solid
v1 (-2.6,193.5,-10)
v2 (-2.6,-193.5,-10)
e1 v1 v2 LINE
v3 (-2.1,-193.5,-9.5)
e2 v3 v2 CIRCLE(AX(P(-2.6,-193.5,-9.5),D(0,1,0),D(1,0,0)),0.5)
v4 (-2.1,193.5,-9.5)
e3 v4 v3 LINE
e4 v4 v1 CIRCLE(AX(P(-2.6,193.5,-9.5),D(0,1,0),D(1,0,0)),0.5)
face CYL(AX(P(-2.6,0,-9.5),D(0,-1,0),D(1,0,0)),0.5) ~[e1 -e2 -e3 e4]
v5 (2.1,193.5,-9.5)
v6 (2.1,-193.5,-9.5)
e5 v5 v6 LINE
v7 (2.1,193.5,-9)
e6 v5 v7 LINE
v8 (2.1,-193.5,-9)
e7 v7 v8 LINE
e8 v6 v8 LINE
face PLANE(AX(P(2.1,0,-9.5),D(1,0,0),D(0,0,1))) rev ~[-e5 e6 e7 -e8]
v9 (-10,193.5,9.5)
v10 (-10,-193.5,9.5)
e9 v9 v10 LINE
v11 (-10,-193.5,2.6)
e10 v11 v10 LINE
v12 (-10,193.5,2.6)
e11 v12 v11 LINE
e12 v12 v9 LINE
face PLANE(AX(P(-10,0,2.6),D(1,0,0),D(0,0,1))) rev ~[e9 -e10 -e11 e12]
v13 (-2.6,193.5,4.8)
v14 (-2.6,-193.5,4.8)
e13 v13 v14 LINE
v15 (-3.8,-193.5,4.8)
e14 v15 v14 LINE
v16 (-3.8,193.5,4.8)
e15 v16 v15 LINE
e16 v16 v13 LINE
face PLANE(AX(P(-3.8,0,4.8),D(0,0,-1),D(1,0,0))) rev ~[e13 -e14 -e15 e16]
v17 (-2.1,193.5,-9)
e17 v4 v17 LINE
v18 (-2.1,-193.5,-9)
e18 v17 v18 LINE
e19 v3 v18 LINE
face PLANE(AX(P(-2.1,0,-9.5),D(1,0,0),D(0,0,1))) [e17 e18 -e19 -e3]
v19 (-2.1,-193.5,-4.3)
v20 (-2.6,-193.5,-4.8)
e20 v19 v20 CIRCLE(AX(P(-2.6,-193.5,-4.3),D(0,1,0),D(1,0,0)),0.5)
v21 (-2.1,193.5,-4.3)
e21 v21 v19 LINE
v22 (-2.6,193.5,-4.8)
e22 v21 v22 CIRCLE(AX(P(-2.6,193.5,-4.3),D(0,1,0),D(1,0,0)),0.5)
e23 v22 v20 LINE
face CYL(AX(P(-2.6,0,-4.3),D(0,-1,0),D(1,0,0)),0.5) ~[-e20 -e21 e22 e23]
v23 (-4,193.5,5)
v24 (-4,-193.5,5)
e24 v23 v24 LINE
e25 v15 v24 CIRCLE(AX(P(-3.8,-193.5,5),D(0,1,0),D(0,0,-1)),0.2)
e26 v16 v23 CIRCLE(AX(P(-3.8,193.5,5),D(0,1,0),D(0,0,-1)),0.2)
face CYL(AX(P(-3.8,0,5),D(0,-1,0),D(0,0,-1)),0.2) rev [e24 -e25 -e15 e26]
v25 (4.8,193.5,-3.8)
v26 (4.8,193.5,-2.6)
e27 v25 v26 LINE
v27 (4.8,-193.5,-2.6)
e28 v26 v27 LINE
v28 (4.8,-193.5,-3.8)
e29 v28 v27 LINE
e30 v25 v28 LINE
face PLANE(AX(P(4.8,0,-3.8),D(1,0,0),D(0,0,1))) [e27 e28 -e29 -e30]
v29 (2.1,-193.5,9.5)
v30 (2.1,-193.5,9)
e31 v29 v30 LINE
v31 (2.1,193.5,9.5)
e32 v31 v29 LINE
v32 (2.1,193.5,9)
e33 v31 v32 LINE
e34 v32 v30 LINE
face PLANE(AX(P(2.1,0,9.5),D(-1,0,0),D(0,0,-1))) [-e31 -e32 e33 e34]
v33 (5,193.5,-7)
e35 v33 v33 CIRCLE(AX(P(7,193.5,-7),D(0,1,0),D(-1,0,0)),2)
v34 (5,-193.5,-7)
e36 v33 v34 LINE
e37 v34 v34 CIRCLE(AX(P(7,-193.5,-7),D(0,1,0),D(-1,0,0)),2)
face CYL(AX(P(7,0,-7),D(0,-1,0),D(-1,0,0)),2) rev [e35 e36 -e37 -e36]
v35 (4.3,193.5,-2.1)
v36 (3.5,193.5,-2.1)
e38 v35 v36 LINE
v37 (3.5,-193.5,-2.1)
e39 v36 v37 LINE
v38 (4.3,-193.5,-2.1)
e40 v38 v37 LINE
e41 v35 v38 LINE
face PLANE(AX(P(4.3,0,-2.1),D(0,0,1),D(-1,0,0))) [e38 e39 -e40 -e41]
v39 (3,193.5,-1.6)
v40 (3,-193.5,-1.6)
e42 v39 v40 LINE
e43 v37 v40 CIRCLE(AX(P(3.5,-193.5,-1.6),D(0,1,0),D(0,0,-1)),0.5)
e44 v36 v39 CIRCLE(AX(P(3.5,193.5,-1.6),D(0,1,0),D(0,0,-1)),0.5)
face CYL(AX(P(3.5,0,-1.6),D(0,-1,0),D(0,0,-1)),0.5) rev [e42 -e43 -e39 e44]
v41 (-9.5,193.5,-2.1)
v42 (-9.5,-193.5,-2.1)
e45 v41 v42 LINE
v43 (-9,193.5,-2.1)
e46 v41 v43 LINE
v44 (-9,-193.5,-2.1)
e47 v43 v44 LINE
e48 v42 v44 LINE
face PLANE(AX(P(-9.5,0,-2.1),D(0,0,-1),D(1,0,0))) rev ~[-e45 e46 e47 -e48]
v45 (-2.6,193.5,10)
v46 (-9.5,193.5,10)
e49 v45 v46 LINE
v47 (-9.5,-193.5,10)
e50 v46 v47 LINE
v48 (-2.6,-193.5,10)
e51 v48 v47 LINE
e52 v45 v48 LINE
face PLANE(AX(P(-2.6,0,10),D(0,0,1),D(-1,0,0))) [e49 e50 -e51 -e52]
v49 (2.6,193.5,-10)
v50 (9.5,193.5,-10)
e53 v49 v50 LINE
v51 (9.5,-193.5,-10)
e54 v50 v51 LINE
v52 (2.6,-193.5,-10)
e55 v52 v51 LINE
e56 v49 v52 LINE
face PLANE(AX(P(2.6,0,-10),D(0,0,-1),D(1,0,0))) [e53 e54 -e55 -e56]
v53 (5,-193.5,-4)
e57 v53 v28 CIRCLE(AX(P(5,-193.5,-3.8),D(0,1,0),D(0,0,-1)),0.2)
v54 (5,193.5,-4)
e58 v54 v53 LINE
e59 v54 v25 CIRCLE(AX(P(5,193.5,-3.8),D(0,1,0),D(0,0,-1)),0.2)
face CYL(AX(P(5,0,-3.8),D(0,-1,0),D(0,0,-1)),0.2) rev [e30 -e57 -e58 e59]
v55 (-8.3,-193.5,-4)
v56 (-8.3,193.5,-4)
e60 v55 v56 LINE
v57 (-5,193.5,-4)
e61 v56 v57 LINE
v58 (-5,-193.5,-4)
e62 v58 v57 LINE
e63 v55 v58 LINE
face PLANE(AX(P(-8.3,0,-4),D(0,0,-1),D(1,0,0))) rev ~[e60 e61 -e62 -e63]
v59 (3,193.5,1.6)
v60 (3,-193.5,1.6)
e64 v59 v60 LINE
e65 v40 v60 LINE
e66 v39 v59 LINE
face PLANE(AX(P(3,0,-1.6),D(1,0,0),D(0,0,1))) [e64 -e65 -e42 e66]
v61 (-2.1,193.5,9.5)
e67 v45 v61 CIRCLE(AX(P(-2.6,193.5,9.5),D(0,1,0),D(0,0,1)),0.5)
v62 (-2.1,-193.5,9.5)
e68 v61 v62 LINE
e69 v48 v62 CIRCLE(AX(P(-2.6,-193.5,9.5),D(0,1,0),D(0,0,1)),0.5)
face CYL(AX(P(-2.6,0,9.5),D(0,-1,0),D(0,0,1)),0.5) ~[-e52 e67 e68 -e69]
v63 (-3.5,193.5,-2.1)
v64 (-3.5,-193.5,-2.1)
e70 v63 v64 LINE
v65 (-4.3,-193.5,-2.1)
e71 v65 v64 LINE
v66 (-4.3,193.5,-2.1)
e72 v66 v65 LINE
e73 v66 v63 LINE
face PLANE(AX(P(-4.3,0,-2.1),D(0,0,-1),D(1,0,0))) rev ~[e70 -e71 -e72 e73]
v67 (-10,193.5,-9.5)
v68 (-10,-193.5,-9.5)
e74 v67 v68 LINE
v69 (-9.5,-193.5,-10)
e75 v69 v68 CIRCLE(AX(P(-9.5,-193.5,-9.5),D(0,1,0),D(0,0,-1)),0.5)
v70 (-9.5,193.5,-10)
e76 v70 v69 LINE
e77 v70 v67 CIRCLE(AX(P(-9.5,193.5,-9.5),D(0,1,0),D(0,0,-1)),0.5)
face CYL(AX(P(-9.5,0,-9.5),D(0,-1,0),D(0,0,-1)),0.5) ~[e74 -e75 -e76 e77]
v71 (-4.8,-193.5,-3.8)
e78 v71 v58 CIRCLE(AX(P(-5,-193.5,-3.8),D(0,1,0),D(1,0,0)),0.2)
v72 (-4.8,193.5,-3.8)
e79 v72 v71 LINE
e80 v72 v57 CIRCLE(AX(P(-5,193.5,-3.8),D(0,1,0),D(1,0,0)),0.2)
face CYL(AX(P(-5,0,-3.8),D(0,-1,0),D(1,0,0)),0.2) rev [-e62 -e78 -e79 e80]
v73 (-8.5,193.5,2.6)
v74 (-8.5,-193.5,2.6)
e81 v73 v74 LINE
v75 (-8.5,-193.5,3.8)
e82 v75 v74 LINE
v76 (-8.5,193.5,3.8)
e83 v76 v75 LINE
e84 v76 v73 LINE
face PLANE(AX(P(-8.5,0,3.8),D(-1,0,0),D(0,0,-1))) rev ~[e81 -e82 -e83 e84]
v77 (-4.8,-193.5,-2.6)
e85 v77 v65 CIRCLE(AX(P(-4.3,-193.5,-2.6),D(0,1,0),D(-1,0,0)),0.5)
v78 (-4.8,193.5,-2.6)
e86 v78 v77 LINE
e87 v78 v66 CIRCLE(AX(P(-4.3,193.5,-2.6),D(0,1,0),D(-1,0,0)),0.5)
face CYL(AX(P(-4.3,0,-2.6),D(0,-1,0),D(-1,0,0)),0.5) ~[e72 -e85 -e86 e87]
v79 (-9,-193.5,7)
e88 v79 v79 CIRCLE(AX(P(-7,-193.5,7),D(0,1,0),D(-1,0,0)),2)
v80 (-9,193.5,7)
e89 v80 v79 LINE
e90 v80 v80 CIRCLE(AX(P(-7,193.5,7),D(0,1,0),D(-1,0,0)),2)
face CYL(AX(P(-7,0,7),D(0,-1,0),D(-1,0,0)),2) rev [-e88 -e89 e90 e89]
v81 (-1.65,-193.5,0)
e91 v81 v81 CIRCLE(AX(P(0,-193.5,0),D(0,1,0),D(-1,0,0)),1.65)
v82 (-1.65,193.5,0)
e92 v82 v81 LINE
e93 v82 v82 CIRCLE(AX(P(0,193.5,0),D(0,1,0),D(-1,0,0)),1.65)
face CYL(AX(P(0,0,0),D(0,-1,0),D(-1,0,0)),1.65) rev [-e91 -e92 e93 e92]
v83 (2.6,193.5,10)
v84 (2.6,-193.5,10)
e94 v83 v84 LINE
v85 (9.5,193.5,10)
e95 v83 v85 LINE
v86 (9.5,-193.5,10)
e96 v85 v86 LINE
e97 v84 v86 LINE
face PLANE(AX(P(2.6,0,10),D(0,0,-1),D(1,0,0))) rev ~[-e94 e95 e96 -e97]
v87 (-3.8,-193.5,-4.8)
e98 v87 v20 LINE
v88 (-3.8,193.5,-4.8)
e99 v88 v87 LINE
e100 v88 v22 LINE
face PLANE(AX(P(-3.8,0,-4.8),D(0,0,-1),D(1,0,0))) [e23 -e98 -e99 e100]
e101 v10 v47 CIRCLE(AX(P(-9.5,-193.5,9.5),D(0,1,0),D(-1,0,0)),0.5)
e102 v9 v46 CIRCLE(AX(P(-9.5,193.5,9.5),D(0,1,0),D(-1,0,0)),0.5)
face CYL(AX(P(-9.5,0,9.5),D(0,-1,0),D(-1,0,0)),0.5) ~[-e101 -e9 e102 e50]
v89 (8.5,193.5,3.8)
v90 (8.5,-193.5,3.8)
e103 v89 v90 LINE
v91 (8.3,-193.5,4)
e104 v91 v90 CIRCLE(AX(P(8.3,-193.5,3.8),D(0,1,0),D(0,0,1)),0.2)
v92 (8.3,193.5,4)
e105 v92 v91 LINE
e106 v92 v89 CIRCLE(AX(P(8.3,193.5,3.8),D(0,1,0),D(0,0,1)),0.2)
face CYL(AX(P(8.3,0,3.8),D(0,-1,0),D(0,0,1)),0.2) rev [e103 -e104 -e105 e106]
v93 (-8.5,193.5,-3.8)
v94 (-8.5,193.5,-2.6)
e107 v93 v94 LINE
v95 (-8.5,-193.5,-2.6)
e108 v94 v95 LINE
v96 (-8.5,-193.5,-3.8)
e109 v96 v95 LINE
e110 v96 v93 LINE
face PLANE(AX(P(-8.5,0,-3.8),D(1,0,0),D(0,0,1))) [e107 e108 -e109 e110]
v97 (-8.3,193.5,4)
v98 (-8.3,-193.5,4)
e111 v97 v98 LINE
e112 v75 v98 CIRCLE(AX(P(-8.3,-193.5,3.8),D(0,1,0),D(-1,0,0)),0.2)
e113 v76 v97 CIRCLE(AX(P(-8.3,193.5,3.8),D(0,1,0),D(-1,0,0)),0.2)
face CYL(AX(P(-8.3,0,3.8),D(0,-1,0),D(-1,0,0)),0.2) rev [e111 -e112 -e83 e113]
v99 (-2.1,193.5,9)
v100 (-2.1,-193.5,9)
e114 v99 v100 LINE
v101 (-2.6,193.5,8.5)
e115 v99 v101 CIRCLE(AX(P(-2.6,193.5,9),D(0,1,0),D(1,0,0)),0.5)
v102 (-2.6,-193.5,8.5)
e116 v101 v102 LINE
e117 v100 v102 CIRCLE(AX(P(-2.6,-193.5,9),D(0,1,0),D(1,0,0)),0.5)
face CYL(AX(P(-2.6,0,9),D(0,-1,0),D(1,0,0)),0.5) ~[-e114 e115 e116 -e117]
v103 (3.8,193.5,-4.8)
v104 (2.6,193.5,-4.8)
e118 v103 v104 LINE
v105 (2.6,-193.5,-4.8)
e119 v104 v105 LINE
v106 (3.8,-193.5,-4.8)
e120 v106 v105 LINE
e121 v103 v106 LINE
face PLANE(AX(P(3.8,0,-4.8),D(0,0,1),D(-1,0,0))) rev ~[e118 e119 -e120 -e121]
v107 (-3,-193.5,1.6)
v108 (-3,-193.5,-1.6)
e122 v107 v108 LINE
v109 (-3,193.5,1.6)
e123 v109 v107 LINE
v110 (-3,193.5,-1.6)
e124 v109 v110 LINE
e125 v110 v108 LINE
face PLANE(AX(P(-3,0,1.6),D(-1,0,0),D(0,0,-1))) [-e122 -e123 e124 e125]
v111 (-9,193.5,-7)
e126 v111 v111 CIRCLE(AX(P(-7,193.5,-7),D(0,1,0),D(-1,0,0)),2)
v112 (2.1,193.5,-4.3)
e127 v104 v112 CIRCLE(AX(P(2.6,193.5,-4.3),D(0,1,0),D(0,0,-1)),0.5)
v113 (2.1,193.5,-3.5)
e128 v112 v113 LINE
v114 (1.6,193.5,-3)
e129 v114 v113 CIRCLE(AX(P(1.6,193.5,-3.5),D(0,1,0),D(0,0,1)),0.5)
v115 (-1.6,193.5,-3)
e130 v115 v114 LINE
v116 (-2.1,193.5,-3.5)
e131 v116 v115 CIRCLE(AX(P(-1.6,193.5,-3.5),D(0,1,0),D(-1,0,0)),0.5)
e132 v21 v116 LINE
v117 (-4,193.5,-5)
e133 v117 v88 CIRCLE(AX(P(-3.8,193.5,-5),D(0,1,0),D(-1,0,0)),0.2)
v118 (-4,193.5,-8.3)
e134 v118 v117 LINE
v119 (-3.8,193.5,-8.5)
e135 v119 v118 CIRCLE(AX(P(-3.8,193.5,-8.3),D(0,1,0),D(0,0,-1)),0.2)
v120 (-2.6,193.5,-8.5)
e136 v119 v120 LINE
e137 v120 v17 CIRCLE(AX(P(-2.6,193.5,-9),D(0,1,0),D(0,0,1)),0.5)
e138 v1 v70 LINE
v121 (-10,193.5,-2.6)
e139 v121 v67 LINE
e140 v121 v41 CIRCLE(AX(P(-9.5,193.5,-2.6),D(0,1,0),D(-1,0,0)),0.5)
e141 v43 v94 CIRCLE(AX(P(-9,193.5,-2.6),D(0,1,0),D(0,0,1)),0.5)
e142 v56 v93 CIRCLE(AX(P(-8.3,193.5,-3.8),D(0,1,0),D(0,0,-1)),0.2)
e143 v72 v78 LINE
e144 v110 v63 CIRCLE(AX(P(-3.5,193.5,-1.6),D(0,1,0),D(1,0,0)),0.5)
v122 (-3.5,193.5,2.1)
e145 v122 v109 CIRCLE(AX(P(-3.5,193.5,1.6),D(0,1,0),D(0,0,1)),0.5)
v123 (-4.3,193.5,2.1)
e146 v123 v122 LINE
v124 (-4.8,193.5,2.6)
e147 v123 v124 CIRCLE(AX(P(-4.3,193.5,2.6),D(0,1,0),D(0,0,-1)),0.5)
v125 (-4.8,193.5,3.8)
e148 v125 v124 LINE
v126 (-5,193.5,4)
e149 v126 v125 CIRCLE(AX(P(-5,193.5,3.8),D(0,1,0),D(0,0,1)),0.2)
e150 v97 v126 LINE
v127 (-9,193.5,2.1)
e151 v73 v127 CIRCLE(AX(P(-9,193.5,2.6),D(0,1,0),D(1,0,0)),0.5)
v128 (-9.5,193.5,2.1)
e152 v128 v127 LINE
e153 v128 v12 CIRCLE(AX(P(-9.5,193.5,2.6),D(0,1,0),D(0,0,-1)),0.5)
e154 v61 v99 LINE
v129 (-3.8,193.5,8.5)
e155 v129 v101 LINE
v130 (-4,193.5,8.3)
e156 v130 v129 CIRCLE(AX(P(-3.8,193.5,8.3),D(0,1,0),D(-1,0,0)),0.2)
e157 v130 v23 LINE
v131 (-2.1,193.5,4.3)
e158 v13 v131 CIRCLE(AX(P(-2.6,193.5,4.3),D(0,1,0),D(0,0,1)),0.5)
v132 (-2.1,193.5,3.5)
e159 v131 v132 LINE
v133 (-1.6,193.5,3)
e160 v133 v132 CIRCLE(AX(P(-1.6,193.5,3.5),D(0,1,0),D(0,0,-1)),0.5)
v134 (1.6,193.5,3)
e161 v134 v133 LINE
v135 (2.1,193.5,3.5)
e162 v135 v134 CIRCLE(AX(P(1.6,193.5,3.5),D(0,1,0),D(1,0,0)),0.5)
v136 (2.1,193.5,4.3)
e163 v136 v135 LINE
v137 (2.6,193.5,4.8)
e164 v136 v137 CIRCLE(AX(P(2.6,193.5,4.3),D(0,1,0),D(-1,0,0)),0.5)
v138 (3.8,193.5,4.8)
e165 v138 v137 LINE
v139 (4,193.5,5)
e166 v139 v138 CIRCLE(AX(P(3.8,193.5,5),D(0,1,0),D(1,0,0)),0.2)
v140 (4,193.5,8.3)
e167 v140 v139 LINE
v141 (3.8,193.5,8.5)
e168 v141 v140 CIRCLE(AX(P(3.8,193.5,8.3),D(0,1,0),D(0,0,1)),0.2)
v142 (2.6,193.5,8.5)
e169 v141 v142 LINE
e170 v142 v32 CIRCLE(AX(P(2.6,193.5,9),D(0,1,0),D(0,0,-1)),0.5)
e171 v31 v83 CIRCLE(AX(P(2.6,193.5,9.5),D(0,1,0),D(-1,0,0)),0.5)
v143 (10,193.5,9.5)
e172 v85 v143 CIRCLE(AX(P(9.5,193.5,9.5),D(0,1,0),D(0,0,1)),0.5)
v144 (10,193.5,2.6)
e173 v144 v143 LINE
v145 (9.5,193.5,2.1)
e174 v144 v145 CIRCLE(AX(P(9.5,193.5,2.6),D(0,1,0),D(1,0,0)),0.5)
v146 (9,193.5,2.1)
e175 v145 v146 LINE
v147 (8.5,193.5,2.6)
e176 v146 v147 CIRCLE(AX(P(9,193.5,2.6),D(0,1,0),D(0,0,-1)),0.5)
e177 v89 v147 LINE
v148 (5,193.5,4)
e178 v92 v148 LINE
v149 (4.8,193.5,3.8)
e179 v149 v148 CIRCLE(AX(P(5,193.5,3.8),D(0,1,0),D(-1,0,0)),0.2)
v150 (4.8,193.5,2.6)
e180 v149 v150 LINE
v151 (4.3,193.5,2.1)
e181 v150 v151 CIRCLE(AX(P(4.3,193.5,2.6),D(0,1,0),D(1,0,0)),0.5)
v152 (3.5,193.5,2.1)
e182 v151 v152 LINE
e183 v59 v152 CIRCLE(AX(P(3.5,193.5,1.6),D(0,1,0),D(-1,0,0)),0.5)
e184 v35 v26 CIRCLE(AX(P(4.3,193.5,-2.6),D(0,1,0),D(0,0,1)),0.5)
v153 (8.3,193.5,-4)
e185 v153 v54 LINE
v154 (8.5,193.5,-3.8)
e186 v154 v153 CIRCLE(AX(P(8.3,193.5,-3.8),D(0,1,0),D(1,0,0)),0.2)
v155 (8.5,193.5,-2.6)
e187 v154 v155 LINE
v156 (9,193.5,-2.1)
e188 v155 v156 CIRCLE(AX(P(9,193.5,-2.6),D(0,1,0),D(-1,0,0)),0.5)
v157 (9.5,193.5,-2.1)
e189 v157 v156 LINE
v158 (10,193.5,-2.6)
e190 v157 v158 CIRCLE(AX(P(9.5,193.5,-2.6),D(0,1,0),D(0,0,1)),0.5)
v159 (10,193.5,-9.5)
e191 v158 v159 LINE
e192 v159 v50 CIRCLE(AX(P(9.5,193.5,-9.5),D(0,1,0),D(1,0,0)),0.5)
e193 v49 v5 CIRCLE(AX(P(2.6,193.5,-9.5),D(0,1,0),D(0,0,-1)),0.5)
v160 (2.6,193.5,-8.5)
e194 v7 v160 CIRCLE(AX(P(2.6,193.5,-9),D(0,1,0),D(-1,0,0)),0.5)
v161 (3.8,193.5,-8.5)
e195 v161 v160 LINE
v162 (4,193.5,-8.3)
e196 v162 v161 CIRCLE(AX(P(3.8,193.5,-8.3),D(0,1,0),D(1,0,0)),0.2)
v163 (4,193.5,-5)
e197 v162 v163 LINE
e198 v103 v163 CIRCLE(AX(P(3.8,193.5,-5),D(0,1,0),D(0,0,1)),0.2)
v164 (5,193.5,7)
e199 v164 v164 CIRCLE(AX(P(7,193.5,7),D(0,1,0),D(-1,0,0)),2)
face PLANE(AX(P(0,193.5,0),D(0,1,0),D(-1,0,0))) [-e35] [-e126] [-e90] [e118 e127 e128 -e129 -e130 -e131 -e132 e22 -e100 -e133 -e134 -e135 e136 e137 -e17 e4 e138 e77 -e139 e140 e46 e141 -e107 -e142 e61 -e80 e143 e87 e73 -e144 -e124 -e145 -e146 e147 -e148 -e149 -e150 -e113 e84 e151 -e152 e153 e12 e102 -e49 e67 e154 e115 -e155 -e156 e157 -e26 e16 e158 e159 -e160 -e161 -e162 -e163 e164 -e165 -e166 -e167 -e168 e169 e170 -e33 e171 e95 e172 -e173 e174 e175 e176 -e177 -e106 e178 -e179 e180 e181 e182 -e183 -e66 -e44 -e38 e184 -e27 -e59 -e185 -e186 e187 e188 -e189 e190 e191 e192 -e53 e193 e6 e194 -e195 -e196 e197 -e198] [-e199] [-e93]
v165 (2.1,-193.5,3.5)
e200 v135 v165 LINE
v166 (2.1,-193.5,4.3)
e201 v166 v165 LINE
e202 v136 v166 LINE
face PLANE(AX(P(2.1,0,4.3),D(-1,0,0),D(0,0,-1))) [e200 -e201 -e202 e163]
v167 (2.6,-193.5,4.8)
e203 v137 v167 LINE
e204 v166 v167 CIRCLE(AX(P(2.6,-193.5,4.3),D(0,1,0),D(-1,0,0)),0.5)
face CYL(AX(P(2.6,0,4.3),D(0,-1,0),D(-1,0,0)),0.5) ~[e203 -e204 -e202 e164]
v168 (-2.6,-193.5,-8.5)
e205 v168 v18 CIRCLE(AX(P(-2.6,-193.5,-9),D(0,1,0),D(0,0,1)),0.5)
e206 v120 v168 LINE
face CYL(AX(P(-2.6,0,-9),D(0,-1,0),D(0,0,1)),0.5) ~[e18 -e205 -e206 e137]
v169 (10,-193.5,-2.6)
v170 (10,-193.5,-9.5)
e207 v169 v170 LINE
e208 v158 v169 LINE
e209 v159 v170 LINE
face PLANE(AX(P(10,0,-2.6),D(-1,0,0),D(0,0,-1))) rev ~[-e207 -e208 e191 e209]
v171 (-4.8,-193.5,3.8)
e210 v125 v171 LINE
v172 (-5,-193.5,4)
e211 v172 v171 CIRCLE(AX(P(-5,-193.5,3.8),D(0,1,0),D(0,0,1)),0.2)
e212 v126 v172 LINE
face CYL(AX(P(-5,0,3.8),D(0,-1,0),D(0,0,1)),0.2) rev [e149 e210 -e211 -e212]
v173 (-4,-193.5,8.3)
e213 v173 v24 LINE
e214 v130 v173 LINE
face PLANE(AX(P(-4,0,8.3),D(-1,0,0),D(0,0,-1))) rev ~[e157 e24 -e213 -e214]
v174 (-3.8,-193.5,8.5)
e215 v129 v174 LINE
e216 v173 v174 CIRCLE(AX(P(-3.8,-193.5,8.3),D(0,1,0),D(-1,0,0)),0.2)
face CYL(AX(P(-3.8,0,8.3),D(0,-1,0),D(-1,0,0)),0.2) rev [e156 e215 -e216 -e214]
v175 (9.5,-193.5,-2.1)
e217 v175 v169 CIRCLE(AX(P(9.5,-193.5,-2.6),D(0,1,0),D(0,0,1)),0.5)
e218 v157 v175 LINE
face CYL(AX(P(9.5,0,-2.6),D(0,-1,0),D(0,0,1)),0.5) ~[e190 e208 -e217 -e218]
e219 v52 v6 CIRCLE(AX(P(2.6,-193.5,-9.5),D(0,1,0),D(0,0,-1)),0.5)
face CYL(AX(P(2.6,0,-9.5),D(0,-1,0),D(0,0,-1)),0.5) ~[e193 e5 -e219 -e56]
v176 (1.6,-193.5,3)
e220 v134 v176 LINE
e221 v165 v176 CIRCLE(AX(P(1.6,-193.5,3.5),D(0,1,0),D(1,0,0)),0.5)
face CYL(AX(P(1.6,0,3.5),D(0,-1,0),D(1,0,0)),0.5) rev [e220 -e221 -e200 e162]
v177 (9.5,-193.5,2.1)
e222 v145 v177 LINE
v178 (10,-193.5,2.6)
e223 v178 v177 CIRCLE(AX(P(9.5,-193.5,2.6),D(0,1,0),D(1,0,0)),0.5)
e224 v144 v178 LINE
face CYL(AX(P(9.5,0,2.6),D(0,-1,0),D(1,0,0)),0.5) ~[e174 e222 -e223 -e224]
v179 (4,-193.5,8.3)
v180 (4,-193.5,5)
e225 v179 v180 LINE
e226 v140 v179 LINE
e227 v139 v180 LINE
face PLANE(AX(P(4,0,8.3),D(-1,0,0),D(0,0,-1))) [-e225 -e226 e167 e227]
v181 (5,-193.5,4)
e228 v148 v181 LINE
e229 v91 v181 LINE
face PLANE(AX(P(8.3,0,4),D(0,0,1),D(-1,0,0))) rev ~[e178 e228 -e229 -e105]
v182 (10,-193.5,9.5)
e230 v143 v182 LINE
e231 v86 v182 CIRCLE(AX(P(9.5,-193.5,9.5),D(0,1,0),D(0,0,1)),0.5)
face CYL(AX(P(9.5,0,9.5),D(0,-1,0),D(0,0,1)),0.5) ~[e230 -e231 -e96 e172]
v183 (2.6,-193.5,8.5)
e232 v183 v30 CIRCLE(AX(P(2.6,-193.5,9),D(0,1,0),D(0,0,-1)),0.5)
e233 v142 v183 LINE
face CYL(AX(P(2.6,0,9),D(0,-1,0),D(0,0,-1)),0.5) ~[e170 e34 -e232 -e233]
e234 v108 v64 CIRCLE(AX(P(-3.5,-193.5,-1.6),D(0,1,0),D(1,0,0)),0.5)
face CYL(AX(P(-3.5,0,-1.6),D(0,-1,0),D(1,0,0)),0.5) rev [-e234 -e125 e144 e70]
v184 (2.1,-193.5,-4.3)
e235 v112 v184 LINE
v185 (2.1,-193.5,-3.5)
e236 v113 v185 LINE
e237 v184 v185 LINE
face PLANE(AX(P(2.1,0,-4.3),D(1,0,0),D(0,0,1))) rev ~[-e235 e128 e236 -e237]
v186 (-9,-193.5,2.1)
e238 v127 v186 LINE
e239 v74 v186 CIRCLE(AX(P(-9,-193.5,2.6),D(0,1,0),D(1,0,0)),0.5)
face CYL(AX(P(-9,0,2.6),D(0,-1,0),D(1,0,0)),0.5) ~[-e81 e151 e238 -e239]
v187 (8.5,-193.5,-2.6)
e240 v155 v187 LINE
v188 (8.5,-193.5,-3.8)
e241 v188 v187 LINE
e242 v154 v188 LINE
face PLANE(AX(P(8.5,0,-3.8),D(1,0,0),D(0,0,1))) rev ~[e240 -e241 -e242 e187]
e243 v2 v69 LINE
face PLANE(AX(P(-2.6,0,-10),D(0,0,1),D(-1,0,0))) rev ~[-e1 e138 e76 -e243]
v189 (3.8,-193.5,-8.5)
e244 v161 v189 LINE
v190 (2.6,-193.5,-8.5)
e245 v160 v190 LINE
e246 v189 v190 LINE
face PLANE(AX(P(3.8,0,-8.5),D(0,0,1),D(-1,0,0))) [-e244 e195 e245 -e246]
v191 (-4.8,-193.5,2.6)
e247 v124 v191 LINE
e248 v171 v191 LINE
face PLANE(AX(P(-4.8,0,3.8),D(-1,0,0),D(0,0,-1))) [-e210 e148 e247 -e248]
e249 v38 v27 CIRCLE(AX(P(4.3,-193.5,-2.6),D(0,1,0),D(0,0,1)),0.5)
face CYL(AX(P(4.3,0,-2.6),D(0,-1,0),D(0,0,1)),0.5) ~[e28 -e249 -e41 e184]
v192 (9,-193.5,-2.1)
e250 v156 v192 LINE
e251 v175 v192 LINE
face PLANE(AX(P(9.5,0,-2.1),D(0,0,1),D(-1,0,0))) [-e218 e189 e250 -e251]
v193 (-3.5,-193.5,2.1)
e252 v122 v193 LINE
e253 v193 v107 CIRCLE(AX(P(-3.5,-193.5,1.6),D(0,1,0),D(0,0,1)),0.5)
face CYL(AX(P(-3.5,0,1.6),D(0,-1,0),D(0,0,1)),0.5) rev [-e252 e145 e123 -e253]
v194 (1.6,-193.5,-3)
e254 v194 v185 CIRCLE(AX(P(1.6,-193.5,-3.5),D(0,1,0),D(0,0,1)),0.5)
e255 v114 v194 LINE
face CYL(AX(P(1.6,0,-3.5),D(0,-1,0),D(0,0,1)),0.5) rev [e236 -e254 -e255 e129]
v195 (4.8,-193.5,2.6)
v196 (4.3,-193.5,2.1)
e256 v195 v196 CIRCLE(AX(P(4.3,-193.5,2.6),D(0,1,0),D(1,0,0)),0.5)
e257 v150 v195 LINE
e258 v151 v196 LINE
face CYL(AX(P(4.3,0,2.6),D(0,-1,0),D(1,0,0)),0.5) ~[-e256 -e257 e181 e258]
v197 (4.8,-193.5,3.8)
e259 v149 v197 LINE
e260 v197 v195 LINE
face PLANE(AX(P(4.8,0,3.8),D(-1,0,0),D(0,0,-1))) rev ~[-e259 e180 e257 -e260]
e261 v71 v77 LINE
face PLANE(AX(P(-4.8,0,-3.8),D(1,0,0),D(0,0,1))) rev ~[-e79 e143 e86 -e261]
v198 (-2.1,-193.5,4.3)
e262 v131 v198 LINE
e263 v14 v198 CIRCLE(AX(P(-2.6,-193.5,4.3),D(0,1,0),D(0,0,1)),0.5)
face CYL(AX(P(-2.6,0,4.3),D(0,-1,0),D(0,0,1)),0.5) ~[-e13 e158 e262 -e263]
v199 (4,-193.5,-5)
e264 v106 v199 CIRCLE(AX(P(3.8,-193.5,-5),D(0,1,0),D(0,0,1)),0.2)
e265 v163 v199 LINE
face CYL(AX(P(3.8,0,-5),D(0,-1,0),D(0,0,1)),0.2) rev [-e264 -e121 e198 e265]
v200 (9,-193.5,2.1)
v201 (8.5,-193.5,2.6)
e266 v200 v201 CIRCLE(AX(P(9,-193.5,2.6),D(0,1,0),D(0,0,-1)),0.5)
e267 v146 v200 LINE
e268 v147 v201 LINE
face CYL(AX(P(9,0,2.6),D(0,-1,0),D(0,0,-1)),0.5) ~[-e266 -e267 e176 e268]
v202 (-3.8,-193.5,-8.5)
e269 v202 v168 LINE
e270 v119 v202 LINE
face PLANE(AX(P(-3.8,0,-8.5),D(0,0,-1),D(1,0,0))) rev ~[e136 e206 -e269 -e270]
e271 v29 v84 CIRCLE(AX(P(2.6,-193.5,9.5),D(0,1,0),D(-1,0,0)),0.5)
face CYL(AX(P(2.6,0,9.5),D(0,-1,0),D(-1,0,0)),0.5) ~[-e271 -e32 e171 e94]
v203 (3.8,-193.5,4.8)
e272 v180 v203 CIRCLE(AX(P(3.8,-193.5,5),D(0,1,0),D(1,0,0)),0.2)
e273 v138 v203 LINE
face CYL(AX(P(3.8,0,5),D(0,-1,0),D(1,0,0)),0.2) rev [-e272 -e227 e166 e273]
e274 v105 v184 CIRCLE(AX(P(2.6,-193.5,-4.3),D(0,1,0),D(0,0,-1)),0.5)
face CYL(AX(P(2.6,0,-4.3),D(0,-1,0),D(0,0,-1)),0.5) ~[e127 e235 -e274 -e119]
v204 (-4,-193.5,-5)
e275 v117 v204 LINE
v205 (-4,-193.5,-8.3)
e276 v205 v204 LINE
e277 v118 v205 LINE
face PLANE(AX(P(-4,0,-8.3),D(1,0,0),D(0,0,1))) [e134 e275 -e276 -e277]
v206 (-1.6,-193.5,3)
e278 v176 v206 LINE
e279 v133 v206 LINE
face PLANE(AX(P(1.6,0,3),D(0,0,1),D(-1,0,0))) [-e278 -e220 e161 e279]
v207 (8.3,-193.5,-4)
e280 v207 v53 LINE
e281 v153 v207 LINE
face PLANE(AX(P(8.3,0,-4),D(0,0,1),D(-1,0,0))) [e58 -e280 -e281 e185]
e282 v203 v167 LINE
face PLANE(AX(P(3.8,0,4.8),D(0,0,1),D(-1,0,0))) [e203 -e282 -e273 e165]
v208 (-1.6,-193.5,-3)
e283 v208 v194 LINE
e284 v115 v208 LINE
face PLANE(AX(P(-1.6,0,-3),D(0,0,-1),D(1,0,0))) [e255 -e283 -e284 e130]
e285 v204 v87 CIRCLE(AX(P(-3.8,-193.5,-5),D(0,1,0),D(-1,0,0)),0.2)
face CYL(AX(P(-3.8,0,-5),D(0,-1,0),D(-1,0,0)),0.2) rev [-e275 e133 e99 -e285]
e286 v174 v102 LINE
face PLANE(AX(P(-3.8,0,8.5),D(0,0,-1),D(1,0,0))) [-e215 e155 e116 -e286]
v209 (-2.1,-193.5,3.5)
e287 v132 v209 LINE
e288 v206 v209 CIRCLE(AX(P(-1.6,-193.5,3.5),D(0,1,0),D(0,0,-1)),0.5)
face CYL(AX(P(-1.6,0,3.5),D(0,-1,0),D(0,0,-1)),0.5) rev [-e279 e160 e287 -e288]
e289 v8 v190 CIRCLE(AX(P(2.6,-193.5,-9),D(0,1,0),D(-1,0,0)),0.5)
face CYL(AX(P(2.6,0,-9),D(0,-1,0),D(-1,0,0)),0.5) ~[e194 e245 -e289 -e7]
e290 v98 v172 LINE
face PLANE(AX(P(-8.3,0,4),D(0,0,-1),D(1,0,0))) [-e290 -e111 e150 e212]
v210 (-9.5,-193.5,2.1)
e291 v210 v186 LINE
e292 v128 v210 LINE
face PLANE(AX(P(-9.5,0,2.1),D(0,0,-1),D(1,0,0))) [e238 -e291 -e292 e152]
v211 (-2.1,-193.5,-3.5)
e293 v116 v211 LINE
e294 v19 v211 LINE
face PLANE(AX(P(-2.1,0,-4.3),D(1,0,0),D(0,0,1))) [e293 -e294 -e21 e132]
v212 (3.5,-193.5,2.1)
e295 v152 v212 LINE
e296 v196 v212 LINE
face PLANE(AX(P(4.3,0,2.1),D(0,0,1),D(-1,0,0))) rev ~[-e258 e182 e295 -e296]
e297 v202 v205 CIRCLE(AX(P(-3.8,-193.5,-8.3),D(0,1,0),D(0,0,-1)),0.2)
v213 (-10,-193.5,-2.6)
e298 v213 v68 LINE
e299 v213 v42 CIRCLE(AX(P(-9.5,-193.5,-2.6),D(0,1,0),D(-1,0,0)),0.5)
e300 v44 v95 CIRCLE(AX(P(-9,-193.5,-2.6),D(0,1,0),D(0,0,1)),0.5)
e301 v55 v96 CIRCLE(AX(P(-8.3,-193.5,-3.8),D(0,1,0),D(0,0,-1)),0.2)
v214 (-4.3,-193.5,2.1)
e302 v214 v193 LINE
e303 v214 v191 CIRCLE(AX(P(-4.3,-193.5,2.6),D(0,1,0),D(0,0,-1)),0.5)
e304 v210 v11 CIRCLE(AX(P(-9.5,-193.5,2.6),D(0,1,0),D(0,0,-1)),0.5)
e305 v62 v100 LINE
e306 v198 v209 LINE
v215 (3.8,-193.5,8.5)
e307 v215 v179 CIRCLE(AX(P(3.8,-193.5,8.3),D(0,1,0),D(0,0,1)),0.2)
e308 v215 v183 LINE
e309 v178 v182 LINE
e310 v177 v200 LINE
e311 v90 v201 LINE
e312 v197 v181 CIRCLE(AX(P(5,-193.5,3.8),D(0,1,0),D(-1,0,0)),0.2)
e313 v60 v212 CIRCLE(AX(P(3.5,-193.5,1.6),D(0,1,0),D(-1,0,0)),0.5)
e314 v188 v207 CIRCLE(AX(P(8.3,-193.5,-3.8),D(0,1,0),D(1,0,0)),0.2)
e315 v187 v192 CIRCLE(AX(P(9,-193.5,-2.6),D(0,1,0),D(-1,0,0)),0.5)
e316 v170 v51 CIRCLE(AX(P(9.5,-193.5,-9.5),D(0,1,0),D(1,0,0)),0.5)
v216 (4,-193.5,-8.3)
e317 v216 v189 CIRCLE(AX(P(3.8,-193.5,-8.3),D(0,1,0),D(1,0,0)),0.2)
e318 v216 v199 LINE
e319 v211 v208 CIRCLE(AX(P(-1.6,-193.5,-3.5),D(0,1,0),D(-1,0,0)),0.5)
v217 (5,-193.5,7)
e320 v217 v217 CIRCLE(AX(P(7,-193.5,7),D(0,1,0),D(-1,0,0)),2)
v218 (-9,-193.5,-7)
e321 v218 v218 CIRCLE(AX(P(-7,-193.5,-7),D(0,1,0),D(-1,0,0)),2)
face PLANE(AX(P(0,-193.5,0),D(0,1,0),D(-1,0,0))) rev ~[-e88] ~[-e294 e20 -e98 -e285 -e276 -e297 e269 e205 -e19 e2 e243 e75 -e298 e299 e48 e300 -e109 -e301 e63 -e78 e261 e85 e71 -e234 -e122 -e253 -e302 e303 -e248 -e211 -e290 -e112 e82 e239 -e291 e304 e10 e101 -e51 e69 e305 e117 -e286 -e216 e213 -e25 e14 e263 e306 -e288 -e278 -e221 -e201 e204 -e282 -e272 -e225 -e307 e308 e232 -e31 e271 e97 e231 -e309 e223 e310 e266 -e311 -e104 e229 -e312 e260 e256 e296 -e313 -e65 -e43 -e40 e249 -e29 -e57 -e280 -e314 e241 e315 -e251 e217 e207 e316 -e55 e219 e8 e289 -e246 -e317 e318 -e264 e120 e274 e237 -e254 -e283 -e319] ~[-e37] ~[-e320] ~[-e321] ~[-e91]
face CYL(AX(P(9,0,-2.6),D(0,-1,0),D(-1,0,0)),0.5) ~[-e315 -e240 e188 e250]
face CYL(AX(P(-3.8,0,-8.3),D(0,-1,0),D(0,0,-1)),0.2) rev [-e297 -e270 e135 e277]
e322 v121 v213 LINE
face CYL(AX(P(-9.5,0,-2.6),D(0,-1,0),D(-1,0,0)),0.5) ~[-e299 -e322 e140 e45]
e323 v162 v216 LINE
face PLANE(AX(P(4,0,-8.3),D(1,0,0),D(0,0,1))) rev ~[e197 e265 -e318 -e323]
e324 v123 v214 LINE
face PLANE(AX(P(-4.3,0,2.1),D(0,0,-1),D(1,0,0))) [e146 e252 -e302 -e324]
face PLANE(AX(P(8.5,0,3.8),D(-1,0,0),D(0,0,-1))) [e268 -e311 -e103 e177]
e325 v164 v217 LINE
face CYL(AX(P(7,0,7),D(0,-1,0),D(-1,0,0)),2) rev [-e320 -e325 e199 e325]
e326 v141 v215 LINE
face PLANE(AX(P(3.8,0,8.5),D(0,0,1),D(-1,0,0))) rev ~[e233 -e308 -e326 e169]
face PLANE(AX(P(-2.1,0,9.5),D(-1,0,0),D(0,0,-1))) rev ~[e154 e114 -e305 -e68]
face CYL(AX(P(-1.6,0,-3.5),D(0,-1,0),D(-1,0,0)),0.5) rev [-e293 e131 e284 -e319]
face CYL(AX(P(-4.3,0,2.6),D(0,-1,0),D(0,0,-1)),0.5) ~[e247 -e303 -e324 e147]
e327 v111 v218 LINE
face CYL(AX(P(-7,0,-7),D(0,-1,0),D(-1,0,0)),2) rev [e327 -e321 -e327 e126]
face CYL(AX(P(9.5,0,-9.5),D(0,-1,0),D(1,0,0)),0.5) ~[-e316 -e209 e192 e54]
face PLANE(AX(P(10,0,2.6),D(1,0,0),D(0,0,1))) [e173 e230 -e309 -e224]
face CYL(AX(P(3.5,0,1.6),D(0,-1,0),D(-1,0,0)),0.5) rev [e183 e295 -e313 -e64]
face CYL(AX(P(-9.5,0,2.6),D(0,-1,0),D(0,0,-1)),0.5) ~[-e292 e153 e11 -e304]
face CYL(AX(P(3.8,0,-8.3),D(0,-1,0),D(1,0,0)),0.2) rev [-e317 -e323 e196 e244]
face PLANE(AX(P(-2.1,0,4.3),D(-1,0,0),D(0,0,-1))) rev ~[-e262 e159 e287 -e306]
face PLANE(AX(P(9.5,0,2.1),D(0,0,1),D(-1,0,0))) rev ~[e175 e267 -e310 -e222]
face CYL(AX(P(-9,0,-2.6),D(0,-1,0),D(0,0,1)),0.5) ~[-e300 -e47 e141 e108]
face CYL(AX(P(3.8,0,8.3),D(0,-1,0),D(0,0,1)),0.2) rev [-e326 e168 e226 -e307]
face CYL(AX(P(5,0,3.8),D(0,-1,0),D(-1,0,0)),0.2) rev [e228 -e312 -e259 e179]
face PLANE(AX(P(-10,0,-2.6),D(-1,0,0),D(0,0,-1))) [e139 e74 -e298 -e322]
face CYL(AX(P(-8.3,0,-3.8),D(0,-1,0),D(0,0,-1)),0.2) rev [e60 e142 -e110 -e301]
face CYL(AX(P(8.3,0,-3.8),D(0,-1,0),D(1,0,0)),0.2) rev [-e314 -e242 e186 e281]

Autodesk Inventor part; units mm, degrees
ref_plane "YZ Plane" through (0, 0, 0) normal (1, 0, 0) x (0, 1, 0)
ref_plane "XZ Plane" through (0, 0, 0) normal (0, 1, 0) x (-1, 0, 0)
ref_plane "XY Plane" through (0, 0, 0) normal (0, 0, 1) x (1, 0, 0)
sketch "スケッチ" plane through (0, 0, 0) normal (0, 1, 0) x (-1, 0, 0)
  line L0 (8.5, -3.8) -> (8.5, -2.6)
  line L1 (4, -8.3) -> (4, -5)
  circle A0 centre (7, -7) radius 2
  line L2 (10, -2.6) -> (10, -9.5)
  line L3 (2.6, -10) -> (9.5, -10)
  line L4 (2.1, -9.5) -> (2.1, -9)
  line L5 (8.5, -2.1) -> (8.5, -4)
  line L6 (3.8, -4.8) -> (2.6, -4.8)
  line L7 (4.8, -3.8) -> (4.8, -2.6)
  arc A1 (2.1, -4.3) -> (2.6, -4.8) centre (2.6, -4.3) ccw
  arc A2 (2.6, -8.5) -> (2.1, -9) centre (2.6, -9) ccw
  arc A3 (3.8, -8.5) -> (4, -8.3) centre (3.8, -8.3) ccw
  arc A4 (4, -5) -> (3.8, -4.8) centre (3.8, -5) ccw
  arc A5 (2.1, -3.5) -> (1.6, -3) centre (1.6, -3.5) ccw
  arc A6 (2.1, -9.5) -> (2.6, -10) centre (2.6, -9.5) ccw
  arc A7 (9.5, -10) -> (10, -9.5) centre (9.5, -9.5) ccw
  arc A8 (10, -2.6) -> (9.5, -2.1) centre (9.5, -2.6) ccw
  arc A9 (9, -2.1) -> (8.5, -2.6) centre (9, -2.6) ccw
  arc A10 (8.3, -4) -> (8.5, -3.8) centre (8.3, -3.8) ccw
  arc A11 (4.8, -3.8) -> (5, -4) centre (5, -3.8) ccw
  line L8 (4.3, -2.1) -> (3.5, -2.1)
  arc A12 (4.8, -2.6) -> (4.3, -2.1) centre (4.3, -2.6) ccw
  arc A13 (3, -1.6) -> (3.5, -2.1) centre (3.5, -1.6) ccw
  line L9 (2.1, -4.3) -> (2.1, -3.5)
  line L10 (3.8, -8.5) -> (2.6, -8.5)
  line L11 (9.5, -2.1) -> (9, -2.1)
  line L12 (8.3, -4) -> (5, -4)
  circle A14 centre (0, 0) radius 1.65
  arc A15 (8.5, 2.6) -> (9, 2.1) centre (9, 2.6) ccw
  line L13 (8.5, 3.8) -> (8.5, 2.6)
  arc A16 (8.5, 3.8) -> (8.3, 4) centre (8.3, 3.8) ccw
  line L14 (8.3, 4) -> (5, 4)
  line L15 (10, 2.6) -> (10, 9.5)
  arc A17 (10, 9.5) -> (9.5, 10) centre (9.5, 9.5) ccw
  circle A18 centre (7, 7) radius 2
  line L16 (4, 8.3) -> (4, 5)
  line L17 (2.6, 10) -> (9.5, 10)
  line L18 (9.5, 2.1) -> (9, 2.1)
  arc A19 (9.5, 2.1) -> (10, 2.6) centre (9.5, 2.6) ccw
  line L19 (3.8, 8.5) -> (2.6, 8.5)
  line L20 (4.8, 3.8) -> (4.8, 2.6)
  arc A20 (4.3, 2.1) -> (4.8, 2.6) centre (4.3, 2.6) ccw
  line L21 (2.1, 8.5) -> (4, 8.5)
  arc A21 (4, 8.3) -> (3.8, 8.5) centre (3.8, 8.3) ccw
  arc A22 (2.1, 9) -> (2.6, 8.5) centre (2.6, 9) ccw
  arc A23 (2.6, 10) -> (2.1, 9.5) centre (2.6, 9.5) ccw
  line L22 (2.1, 9.5) -> (2.1, 9)
  arc A24 (1.6, 3) -> (2.1, 3.5) centre (1.6, 3.5) ccw
  line L23 (3.8, 4.8) -> (2.6, 4.8)
  arc A25 (5, 4) -> (4.8, 3.8) centre (5, 3.8) ccw
  arc A26 (3.8, 4.8) -> (4, 5) centre (3.8, 5) ccw
  line L24 (4.3, 2.1) -> (3.5, 2.1)
  arc A27 (2.6, 4.8) -> (2.1, 4.3) centre (2.6, 4.3) ccw
  line L25 (2.1, 4.3) -> (2.1, 3.5)
  arc A28 (3.5, 2.1) -> (3, 1.6) centre (3.5, 1.6) ccw
  arc A29 (-2.6, 8.5) -> (-2.1, 9) centre (-2.6, 9) ccw
  line L26 (-3.8, 8.5) -> (-2.6, 8.5)
  arc A30 (-3.8, 8.5) -> (-4, 8.3) centre (-3.8, 8.3) ccw
  line L27 (-4, 8.3) -> (-4, 5)
  line L28 (-2.6, 10) -> (-9.5, 10)
  arc A31 (-9.5, 10) -> (-10, 9.5) centre (-9.5, 9.5) ccw
  circle A32 centre (-7, 7) radius 2
  line L29 (-8.3, 4) -> (-5, 4)
  line L30 (-10, 2.6) -> (-10, 9.5)
  line L31 (-2.1, 9.5) -> (-2.1, 9)
  arc A33 (-2.1, 9.5) -> (-2.6, 10) centre (-2.6, 9.5) ccw
  line L32 (-8.5, 3.8) -> (-8.5, 2.6)
  line L33 (-3.8, 4.8) -> (-2.6, 4.8)
  arc A34 (-2.1, 4.3) -> (-2.6, 4.8) centre (-2.6, 4.3) ccw
  line L34 (-8.5, 2.1) -> (-8.5, 4)
  arc A35 (-8.3, 4) -> (-8.5, 3.8) centre (-8.3, 3.8) ccw
  arc A36 (-9, 2.1) -> (-8.5, 2.6) centre (-9, 2.6) ccw
  arc A37 (-10, 2.6) -> (-9.5, 2.1) centre (-9.5, 2.6) ccw
  line L35 (-9.5, 2.1) -> (-9, 2.1)
  arc A38 (-3, 1.6) -> (-3.5, 2.1) centre (-3.5, 1.6) ccw
  line L36 (-4.8, 3.8) -> (-4.8, 2.6)
  arc A39 (-4, 5) -> (-3.8, 4.8) centre (-3.8, 5) ccw
  arc A40 (-4.8, 3.8) -> (-5, 4) centre (-5, 3.8) ccw
  line L37 (-2.1, 4.3) -> (-2.1, 3.5)
  arc A41 (-4.8, 2.6) -> (-4.3, 2.1) centre (-4.3, 2.6) ccw
  line L38 (-4.3, 2.1) -> (-3.5, 2.1)
  arc A42 (-2.1, 3.5) -> (-1.6, 3) centre (-1.6, 3.5) ccw
  arc A43 (-8.5, -2.6) -> (-9, -2.1) centre (-9, -2.6) ccw
  line L39 (-8.5, -3.8) -> (-8.5, -2.6)
  arc A44 (-8.5, -3.8) -> (-8.3, -4) centre (-8.3, -3.8) ccw
  line L40 (-8.3, -4) -> (-5, -4)
  line L41 (-10, -2.6) -> (-10, -9.5)
  arc A45 (-10, -9.5) -> (-9.5, -10) centre (-9.5, -9.5) ccw
  circle A46 centre (-7, -7) radius 2
  line L42 (-4, -8.3) -> (-4, -5)
  line L43 (-2.6, -10) -> (-9.5, -10)
  line L44 (-9.5, -2.1) -> (-9, -2.1)
  arc A47 (-9.5, -2.1) -> (-10, -2.6) centre (-9.5, -2.6) ccw
  line L45 (-3.8, -8.5) -> (-2.6, -8.5)
  line L46 (-4.8, -3.8) -> (-4.8, -2.6)
  arc A48 (-4.3, -2.1) -> (-4.8, -2.6) centre (-4.3, -2.6) ccw
  line L47 (-2.1, -8.5) -> (-4, -8.5)
  arc A49 (-4, -8.3) -> (-3.8, -8.5) centre (-3.8, -8.3) ccw
  arc A50 (-2.1, -9) -> (-2.6, -8.5) centre (-2.6, -9) ccw
  arc A51 (-2.6, -10) -> (-2.1, -9.5) centre (-2.6, -9.5) ccw
  line L48 (-2.1, -9.5) -> (-2.1, -9)
  arc A52 (-1.6, -3) -> (-2.1, -3.5) centre (-1.6, -3.5) ccw
  line L49 (-3.8, -4.8) -> (-2.6, -4.8)
  arc A53 (-5, -4) -> (-4.8, -3.8) centre (-5, -3.8) ccw
  arc A54 (-3.8, -4.8) -> (-4, -5) centre (-3.8, -5) ccw
  line L50 (-4.3, -2.1) -> (-3.5, -2.1)
  arc A55 (-2.6, -4.8) -> (-2.1, -4.3) centre (-2.6, -4.3) ccw
  line L51 (-2.1, -4.3) -> (-2.1, -3.5)
  arc A56 (-3.5, -2.1) -> (-3, -1.6) centre (-3.5, -1.6) ccw
  line L52 (1.6, -3) -> (-1.6, -3)
  line L53 (-3, -1.6) -> (-3, 1.6)
  line L54 (-1.6, 3) -> (1.6, 3)
  line L55 (3, 1.6) -> (3, -1.6)
  point P0 (2.1, -10)
  point P1 (10, 2.1)
  point P2 (-2.1, 10)
  point P3 (-10, -2.1)
  dimension "d12" = 4
  dimension "d14" = 3.7
  dimension "d16" = 0.5
  dimension "d17" = 0.5
  dimension "d18" = 0.2
  dimension "d19" = 0.5
  dimension "d20" = 0.5
  dimension "d24" = 0.5
  dimension "d25" = 0.2
  dimension "d28" = 0.5
  dimension "d31" = 1.5
  dimension "d36" = 3.7
  dimension "d37" = 1.5
  dimension "d58" = 3.3
  dimension "d65" = 10
  dimension "d67" = 2.1
  dimension "d68" = 2.1
  dimension "d69" = 1.9
  dimension "d70" = 7
  dimension "d72" = 2.1
  dimension "d73" = 2.1
  dimension "d74" = 1.9
  dimension "d75" = 7
  dimension "d76" = 10
  dimension "d80" = 360
  dimension "d82" = 3
extrude "ボディ" add sketch "スケッチ" along normal mid plane 387
equation "\"G_OFFSET_START\" = 0"
equation "\"G_OFFSET_END\" = 0"
equation "\"G_L\" = d90"
equation "\"d90\" = 330"
properties part number "s387" material "アルミニウム 6061"
